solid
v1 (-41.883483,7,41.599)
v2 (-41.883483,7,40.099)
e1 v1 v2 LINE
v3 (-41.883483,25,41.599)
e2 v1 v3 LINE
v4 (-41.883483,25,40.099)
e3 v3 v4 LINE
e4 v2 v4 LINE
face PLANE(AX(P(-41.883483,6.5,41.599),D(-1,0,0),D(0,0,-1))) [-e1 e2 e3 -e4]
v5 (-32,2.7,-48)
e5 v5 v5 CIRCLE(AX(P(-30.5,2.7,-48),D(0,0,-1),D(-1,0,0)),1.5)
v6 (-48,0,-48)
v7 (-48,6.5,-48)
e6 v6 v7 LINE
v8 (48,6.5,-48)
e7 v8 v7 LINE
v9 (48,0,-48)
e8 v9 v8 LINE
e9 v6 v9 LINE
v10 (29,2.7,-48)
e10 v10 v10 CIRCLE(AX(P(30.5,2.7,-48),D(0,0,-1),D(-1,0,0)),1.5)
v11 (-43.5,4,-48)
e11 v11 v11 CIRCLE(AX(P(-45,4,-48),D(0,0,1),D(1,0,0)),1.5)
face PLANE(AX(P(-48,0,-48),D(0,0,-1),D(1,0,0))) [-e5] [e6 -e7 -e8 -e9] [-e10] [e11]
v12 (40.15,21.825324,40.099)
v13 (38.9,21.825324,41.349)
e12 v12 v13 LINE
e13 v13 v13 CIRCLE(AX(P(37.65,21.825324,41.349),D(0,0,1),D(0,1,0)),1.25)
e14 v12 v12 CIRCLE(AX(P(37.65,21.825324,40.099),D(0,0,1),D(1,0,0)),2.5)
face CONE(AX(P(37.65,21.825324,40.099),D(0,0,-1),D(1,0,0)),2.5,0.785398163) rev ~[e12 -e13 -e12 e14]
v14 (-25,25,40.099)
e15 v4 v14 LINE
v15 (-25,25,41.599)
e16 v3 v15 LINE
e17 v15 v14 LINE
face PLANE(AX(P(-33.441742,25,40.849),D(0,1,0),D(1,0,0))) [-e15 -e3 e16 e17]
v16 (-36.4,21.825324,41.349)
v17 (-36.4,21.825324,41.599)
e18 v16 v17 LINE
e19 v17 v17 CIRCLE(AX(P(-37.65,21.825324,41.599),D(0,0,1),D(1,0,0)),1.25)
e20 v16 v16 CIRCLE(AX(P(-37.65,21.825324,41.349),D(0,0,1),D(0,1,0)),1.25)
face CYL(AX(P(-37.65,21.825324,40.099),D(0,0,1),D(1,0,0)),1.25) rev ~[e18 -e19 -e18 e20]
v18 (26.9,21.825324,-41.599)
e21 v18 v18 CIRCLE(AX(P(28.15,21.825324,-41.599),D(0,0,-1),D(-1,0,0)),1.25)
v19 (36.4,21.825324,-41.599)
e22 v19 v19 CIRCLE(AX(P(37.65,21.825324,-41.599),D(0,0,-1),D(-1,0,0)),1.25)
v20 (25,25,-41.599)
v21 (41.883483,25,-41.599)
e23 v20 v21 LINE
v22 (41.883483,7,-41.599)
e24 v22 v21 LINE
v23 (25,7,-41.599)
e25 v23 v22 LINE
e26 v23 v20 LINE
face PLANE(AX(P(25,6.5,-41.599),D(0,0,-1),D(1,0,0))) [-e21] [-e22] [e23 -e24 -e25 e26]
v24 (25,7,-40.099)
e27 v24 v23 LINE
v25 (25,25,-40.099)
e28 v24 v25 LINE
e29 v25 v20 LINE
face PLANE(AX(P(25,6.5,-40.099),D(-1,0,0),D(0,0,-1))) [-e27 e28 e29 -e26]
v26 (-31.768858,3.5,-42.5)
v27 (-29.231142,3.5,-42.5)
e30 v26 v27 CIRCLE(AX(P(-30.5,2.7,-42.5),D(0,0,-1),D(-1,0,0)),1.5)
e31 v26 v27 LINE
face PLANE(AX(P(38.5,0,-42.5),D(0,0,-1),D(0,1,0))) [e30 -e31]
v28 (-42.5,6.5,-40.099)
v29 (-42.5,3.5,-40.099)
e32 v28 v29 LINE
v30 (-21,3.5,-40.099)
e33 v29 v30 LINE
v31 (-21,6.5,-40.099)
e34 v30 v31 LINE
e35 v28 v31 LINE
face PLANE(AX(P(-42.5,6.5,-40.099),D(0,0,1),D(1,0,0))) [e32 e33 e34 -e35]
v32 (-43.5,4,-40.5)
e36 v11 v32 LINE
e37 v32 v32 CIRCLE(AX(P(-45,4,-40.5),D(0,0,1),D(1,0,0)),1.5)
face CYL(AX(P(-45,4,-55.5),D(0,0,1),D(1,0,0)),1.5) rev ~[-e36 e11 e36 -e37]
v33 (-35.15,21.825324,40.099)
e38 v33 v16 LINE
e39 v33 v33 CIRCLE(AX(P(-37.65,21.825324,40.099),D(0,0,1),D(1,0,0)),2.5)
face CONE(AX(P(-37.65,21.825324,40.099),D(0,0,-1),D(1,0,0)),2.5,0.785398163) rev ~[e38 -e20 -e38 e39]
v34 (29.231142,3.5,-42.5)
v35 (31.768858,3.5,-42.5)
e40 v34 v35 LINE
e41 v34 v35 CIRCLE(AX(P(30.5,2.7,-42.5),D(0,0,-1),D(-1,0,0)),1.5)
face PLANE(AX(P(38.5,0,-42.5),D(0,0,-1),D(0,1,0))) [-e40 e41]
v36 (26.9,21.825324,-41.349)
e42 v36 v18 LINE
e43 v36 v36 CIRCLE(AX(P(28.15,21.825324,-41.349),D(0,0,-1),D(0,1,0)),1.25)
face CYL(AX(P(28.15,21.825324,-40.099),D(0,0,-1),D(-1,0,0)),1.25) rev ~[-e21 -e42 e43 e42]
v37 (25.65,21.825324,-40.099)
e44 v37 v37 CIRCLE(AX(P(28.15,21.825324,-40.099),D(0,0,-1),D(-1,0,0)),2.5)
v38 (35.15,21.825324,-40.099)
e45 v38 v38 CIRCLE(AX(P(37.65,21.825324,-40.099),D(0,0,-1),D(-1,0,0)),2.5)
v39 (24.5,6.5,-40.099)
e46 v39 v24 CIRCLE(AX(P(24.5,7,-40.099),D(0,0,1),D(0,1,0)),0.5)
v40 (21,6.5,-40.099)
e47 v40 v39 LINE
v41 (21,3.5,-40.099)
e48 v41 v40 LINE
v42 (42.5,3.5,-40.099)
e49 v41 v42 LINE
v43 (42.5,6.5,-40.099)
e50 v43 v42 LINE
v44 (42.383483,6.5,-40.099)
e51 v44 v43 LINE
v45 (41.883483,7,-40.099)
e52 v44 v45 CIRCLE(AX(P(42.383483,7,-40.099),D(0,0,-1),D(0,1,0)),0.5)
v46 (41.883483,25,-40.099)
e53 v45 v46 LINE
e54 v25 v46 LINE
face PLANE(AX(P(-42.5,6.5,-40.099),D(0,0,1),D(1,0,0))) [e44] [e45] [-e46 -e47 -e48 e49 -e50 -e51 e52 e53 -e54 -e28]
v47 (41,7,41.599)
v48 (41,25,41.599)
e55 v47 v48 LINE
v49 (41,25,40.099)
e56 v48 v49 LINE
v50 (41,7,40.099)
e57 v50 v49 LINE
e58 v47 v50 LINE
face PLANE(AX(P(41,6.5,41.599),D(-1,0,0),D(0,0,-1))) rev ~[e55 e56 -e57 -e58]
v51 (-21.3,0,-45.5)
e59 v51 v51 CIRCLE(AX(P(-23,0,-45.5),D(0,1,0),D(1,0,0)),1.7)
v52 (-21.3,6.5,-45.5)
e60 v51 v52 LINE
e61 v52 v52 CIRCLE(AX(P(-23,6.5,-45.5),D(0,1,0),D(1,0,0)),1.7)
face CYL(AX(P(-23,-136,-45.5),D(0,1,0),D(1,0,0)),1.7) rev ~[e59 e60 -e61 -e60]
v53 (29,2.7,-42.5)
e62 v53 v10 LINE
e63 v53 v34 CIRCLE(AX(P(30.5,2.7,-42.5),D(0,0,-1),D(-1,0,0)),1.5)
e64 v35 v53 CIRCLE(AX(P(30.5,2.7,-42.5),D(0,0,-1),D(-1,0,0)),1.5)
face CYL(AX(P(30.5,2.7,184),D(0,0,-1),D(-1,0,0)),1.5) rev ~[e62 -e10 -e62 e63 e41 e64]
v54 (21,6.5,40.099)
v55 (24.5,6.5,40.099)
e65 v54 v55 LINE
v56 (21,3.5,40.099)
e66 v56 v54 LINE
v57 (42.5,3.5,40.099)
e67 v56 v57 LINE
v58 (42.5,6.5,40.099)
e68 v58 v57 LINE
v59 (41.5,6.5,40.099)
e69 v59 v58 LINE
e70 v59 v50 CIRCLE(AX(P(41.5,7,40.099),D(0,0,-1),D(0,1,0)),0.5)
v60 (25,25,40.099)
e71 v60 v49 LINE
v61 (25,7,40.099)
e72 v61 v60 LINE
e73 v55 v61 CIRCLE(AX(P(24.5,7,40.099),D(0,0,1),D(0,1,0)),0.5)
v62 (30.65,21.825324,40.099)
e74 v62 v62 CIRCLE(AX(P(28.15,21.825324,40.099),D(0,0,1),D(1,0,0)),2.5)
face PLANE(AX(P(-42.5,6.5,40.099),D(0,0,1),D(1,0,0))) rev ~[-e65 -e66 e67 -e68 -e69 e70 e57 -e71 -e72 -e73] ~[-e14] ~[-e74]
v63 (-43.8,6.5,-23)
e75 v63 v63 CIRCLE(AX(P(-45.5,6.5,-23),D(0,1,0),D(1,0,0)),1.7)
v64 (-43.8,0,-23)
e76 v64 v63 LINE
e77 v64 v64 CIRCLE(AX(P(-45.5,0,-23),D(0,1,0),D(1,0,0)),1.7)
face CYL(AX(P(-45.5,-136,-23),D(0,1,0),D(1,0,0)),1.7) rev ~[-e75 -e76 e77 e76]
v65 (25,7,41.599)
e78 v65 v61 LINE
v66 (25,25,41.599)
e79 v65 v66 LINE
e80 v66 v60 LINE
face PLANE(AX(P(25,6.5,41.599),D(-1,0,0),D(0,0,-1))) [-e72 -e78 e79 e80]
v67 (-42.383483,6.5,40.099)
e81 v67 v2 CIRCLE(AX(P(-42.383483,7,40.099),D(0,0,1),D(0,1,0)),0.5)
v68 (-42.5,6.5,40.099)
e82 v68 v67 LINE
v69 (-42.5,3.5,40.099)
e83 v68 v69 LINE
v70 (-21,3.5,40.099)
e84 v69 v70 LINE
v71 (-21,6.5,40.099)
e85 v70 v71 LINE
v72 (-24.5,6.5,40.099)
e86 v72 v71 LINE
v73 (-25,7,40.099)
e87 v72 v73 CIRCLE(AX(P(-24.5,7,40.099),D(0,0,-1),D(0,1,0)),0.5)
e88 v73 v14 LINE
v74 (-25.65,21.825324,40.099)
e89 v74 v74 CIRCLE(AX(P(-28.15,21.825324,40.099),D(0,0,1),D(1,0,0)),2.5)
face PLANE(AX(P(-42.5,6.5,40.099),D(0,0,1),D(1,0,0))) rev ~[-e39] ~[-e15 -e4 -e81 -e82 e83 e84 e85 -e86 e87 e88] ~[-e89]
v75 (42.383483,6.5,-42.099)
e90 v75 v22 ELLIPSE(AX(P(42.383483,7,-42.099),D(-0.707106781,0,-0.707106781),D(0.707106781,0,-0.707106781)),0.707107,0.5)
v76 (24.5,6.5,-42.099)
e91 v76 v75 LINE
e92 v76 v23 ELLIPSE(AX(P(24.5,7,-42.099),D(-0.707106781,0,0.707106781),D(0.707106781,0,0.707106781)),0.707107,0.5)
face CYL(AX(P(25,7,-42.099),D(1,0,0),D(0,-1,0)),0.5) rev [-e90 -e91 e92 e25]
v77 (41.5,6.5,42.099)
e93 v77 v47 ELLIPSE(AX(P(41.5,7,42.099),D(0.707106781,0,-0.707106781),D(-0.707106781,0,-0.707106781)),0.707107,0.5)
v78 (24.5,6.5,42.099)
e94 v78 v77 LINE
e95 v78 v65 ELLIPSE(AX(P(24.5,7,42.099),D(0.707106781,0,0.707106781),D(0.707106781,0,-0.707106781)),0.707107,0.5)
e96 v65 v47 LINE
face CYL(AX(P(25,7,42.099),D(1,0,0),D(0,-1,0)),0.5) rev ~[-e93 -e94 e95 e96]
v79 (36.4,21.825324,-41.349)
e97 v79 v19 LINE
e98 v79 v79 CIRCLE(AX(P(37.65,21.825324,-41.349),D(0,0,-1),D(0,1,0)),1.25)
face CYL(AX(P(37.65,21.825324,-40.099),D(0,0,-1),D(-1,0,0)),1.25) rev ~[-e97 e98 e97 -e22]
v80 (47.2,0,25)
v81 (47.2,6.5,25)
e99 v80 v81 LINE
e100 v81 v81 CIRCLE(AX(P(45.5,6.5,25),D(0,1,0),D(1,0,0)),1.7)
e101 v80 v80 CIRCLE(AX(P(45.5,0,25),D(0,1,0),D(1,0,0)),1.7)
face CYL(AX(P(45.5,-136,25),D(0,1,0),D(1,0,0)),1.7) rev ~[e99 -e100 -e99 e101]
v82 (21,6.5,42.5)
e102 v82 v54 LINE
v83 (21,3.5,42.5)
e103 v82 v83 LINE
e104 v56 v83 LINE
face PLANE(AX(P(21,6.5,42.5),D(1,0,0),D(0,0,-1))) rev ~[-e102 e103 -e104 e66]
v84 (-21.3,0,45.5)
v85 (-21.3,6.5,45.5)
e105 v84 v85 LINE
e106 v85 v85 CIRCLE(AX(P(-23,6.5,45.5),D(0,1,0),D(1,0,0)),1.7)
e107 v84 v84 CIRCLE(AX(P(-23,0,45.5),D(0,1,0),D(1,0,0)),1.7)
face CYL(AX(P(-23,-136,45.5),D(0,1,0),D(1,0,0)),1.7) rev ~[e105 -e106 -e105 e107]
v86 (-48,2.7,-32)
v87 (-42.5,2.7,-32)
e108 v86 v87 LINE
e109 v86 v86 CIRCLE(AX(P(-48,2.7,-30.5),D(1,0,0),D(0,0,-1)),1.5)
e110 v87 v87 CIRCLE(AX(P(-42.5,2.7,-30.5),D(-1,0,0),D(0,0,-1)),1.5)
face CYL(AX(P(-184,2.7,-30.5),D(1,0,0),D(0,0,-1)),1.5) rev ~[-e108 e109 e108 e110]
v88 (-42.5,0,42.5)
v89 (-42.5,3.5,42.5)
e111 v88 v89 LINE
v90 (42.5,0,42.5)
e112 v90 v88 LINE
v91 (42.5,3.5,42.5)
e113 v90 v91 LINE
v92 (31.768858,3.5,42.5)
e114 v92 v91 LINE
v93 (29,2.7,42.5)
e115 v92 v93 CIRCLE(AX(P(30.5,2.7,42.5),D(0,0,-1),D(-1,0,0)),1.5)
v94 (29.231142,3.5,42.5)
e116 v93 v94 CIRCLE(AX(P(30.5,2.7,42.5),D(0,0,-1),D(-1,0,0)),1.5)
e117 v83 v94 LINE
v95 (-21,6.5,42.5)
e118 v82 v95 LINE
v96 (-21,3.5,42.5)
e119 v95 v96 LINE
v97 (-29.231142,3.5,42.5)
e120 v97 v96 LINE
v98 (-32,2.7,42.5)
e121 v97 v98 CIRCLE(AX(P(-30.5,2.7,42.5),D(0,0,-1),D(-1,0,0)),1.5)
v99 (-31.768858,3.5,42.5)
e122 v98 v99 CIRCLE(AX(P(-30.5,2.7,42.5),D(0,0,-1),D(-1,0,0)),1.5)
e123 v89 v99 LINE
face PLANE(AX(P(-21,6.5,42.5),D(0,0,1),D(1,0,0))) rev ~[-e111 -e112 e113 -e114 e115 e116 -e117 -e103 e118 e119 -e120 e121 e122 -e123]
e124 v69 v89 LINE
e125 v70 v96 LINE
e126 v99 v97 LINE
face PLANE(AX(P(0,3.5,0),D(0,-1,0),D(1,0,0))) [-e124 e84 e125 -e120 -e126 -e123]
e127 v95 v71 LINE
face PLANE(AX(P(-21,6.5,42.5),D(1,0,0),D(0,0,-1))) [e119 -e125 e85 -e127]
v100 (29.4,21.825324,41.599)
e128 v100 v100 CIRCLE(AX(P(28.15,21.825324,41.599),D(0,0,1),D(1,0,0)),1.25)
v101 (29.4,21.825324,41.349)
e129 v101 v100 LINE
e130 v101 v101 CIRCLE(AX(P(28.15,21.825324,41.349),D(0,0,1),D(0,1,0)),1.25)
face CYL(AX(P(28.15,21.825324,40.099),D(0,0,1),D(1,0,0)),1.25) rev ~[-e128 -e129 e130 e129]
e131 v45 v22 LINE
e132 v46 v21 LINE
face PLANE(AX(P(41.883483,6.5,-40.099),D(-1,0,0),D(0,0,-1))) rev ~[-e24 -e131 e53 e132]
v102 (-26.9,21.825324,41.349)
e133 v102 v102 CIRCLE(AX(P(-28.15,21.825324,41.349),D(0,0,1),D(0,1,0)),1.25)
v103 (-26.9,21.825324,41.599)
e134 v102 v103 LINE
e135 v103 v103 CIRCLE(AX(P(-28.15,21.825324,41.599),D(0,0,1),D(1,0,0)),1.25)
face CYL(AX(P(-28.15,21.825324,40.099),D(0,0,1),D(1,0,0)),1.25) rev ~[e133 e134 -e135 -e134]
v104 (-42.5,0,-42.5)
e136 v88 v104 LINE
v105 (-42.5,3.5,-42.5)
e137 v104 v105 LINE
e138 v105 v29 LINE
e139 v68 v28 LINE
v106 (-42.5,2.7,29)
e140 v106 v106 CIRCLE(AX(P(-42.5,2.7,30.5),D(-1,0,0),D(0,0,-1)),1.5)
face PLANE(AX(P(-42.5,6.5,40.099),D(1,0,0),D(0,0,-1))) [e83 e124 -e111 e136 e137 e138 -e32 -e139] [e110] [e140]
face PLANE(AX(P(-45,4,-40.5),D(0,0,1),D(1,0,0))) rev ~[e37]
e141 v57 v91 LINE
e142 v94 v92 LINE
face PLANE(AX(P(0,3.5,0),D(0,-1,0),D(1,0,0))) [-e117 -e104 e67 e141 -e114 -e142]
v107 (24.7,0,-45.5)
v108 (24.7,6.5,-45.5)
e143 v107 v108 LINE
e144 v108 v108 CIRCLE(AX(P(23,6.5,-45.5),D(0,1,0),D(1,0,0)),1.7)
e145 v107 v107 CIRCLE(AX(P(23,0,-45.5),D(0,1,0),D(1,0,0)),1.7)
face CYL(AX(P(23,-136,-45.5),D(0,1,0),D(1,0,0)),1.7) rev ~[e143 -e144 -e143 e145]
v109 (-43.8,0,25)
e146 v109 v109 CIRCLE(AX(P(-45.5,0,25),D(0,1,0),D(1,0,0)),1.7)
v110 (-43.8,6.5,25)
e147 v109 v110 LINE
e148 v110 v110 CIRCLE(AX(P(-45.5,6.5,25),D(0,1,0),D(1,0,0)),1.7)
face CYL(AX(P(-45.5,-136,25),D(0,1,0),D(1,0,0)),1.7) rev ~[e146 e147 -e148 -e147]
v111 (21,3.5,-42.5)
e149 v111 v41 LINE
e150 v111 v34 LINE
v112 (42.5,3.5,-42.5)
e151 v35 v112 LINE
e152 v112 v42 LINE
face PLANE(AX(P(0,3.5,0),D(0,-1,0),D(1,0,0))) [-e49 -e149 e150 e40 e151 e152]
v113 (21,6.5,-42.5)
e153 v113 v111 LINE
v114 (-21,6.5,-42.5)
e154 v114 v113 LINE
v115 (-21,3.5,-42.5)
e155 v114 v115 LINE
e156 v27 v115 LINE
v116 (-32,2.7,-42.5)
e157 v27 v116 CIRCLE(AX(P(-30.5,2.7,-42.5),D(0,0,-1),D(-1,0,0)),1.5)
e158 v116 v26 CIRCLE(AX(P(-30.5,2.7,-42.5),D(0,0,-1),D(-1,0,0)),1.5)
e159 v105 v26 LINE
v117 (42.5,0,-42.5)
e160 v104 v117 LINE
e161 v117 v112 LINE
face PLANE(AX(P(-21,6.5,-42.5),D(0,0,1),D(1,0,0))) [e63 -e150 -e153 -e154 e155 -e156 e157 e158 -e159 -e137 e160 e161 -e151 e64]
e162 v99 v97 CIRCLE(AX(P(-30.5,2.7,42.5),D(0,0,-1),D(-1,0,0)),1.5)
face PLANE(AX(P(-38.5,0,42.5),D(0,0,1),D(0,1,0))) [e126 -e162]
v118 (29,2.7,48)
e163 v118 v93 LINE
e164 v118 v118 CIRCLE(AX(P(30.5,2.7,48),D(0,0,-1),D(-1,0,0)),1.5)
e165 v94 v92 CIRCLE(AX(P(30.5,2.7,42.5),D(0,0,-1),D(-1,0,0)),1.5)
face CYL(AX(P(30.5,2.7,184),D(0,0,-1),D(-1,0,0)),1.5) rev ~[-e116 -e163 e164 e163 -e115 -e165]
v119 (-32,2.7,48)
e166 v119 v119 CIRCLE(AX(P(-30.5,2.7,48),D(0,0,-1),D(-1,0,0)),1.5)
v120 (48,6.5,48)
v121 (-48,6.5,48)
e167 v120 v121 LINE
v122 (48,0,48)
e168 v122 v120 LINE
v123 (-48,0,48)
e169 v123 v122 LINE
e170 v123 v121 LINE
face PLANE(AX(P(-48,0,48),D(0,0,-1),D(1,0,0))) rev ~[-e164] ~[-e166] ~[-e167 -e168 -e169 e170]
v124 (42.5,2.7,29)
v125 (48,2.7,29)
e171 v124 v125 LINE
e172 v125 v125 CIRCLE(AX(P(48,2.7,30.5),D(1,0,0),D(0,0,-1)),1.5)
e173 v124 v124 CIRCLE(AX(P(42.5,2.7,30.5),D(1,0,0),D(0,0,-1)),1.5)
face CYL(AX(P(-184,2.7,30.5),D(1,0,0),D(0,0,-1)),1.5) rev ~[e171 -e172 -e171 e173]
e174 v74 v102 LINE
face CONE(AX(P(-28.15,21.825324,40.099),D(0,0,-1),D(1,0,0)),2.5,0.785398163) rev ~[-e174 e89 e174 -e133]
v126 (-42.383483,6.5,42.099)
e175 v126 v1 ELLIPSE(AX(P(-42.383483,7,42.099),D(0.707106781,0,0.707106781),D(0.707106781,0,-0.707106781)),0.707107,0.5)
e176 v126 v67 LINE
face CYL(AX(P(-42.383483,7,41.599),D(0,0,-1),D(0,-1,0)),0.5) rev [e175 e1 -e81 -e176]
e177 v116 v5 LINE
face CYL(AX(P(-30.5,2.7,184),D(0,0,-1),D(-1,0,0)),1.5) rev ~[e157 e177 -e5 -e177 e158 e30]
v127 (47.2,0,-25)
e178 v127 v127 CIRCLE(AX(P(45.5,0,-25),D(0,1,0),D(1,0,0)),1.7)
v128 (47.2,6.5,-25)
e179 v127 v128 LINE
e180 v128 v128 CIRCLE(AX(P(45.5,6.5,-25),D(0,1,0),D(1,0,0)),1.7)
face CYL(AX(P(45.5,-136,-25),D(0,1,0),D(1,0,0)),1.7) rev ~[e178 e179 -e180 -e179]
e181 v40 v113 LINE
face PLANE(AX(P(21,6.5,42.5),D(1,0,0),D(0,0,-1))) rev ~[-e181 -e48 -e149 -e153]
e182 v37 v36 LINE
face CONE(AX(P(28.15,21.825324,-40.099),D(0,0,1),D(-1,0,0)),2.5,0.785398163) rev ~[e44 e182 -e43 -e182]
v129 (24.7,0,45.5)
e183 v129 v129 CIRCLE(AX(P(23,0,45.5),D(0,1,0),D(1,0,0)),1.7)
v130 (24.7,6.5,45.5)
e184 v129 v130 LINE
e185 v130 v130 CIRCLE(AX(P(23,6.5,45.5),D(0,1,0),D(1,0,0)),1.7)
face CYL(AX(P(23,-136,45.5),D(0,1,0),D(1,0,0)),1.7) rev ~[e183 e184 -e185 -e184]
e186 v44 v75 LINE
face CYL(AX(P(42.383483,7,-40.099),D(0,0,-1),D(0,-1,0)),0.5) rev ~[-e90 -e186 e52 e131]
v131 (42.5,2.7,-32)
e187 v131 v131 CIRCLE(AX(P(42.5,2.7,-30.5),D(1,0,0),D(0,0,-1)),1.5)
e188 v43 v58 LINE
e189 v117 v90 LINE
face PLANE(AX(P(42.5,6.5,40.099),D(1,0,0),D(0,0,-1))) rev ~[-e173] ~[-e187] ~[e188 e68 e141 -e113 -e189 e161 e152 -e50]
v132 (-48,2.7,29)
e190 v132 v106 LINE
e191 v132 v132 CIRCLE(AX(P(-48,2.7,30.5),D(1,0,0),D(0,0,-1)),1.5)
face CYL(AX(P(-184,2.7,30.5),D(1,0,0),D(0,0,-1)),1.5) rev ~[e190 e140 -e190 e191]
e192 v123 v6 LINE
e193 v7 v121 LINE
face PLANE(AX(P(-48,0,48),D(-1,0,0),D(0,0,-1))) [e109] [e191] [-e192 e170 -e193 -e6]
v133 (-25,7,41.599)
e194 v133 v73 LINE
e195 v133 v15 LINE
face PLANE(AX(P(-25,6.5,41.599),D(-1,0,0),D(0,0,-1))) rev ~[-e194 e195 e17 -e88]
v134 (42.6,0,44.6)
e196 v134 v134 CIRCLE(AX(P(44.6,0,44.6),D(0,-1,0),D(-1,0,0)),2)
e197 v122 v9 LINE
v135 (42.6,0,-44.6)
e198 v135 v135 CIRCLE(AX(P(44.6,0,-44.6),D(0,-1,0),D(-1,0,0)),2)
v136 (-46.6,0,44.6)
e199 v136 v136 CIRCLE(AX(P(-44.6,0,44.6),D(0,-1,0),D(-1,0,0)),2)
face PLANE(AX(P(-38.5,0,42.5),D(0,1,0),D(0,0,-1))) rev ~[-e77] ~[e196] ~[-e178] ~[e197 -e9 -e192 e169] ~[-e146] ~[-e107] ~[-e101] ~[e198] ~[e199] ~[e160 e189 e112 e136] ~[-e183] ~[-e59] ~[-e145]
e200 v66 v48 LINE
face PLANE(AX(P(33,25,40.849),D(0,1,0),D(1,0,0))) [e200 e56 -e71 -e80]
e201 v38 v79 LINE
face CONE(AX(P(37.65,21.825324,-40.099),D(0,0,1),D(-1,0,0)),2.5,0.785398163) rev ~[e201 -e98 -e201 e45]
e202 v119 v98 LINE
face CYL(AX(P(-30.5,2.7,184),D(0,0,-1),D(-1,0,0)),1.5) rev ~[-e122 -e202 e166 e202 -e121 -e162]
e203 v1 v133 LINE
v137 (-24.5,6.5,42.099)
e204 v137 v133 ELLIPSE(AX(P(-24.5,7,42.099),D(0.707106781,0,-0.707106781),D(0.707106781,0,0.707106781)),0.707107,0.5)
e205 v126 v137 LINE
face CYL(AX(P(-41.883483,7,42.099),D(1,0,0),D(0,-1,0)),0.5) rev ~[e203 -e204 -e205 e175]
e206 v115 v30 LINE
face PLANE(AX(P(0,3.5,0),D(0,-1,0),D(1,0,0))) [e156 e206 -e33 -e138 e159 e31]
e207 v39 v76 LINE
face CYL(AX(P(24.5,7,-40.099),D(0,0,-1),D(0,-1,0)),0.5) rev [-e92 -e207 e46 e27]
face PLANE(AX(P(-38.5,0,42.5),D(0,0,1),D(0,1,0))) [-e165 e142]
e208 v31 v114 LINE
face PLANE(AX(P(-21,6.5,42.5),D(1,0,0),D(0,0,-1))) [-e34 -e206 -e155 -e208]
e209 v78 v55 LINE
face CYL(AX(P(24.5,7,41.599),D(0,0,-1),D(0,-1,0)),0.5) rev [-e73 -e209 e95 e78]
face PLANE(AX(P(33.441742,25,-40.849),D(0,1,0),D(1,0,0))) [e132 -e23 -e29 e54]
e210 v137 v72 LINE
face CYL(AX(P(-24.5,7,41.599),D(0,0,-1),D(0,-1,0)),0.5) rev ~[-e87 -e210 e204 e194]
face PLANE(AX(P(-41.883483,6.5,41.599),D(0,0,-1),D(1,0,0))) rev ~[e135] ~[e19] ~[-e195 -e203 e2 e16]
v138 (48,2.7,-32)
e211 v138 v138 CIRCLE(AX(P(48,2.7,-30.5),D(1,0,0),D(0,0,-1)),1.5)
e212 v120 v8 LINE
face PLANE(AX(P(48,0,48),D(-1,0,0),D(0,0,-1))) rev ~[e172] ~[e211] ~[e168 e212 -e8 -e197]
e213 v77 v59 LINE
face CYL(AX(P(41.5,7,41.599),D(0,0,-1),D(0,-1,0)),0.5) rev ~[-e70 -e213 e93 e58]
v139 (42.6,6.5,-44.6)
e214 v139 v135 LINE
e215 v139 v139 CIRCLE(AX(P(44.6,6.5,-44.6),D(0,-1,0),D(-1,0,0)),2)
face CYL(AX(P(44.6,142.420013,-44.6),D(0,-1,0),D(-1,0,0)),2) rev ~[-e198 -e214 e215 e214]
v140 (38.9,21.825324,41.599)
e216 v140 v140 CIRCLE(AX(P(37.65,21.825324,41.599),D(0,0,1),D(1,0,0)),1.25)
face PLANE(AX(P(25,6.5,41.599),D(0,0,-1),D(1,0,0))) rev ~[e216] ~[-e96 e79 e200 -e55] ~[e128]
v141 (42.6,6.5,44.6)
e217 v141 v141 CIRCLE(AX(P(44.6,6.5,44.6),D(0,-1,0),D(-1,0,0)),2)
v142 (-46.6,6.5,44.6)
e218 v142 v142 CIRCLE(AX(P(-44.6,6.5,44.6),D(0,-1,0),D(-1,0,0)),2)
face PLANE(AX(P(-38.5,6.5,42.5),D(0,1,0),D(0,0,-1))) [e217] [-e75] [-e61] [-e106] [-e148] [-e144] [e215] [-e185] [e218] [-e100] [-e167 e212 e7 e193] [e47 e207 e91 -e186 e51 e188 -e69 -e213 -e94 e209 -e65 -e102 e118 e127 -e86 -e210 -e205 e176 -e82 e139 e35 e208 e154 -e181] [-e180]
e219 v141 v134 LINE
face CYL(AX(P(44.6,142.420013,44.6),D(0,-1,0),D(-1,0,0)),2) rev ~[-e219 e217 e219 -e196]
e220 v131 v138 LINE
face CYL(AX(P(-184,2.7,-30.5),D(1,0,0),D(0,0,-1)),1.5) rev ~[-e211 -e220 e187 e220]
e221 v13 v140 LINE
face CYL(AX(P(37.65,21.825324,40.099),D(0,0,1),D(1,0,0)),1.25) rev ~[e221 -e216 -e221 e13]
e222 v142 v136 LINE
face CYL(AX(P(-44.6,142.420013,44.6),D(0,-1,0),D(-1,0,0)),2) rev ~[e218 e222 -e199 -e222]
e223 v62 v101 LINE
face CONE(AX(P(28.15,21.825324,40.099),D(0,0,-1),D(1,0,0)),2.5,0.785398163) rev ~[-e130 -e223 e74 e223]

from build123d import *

# Parameters (mm, degrees)
SKETCH1_W                                            = 96
SKETCH1_H                                            = 96
SKETCH1_W_2                                          = 80
SKETCH1_H_2                                          = 80
BOSS_EXTRUDE1_DEPTH                                  = 8
F_3_0_3_DIAMETER_HOLE3_D                             = 3
F_3_0_3_DIAMETER_HOLE3_DEPTH                         = 7.5
SKETCH27_W                                           = 82
SKETCH27_H                                           = 82
CUT_EXTRUDE2_DEPTH                                   = 10
F_3_0_3_DIAMETER_HOLE1_D                             = 3
F_3_4_3_4_DIAMETER_HOLE1_D                           = 3.4
SKETCH38_W                                           = 85
SKETCH38_H                                           = 85
CUT_EXTRUDE4_DEPTH                                   = 10
F_3_0_3_DIAMETER_HOLE7_D                             = 3
SKETCH44_W                                           = 4
SKETCH44_H                                           = 4
BOSS_EXTRUDE2_DEPTH                                  = 8
SKETCH45_W                                           = 4
SKETCH45_H                                           = 3.5
BOSS_EXTRUDE3_DEPTH                                  = 8
SKETCH49_W                                           = 96
SKETCH49_H                                           = 1.5
CUT_EXTRUDE5_DEPTH                                   = 146
TAP_DRILL_FOR_M4_TAP1_D                              = 4
SKETCH53_W                                           = 4
SKETCH53_H                                           = 6.5
BOSS_EXTRUDE5_DEPTH                                  = 78
SKETCH54_W                                           = 16
SKETCH54_H                                           = 1.5
SKETCH54_W_2                                         = 16.883483494
BOSS_EXTRUDE6_DEPTH                                  = 18.5
FILLET1_R                                            = 0.5
SKETCH57_W                                           = 4
SKETCH57_H                                           = 6.5
CUT_EXTRUDE6_DEPTH                                   = 7.5
SKETCH58_W                                           = 4
SKETCH58_H                                           = 6.5
BOSS_EXTRUDE7_DEPTH                                  = 81
FILLET2_R                                            = 0.5
SKETCH61_W                                           = 32
SKETCH61_H                                           = 85
CUT_EXTRUDE7_DEPTH                                   = 81
CSK_FOR_M2_5_COUNTERSUNK_FLAT_HEAD_SCREW_D           = 2.5
CSK_FOR_M2_5_COUNTERSUNK_FLAT_HEAD_SCREW_DEPTH       = 7.901
CSK_FOR_M2_5_COUNTERSUNK_FLAT_HEAD_SCREW_CSINK_D     = 5
CSK_FOR_M2_5_COUNTERSUNK_FLAT_HEAD_SCREW_CSINK_ANGLE = 90
CSK_FOR_M2_5_COUNTERSUNK_FLAT_HEAD_S_2_D             = 2.5
CSK_FOR_M2_5_COUNTERSUNK_FLAT_HEAD_S_2_DEPTH         = 7.901
CSK_FOR_M2_5_COUNTERSUNK_FLAT_HEAD_S_2_CSINK_D       = 5
CSK_FOR_M2_5_COUNTERSUNK_FLAT_HEAD_S_2_CSINK_ANGLE   = 90
SKETCH66_W                                           = 85
SKETCH66_H                                           = 80.198
CUT_EXTRUDE8_DEPTH                                   = 10
SKETCH67_W                                           = 85
SKETCH67_H                                           = 85
CUT_EXTRUDE9_DEPTH                                   = 3.5
SKETCH68_W                                           = 42
SKETCH68_H                                           = 85
CUT_EXTRUDE10_DEPTH                                  = 56


with BuildPart() as part:
    # Sketch1 → Boss-Extrude1 (new body)
    with BuildSketch(Plane(origin=(0, 0, 0), x_dir=(1, 0, 0), z_dir=(0, 1, 0))):
        Rectangle(SKETCH1_W, SKETCH1_H)
        Rectangle(SKETCH1_W_2, SKETCH1_H_2, mode=Mode.SUBTRACT)
    extrude(amount=BOSS_EXTRUDE1_DEPTH)

    # Ø3.0 (3) Diameter Hole3
    with Locations(Plane(origin=(0, 0, -48), x_dir=(-1, 0, 0), z_dir=(0, 0, -1))):
        with Locations((45, 4)):
            Hole(F_3_0_3_DIAMETER_HOLE3_D / 2, depth=F_3_0_3_DIAMETER_HOLE3_DEPTH)

    # Sketch27 → Cut-Extrude2 (cut)
    with BuildSketch(Plane(origin=(0, 8, 0), x_dir=(1, 0, 0), z_dir=(0, 1, 0))):
        Rectangle(SKETCH27_W, SKETCH27_H)
    extrude(amount=-CUT_EXTRUDE2_DEPTH, mode=Mode.SUBTRACT)

    # Ø3.0 (3) Diameter Hole1 (through all)
    with Locations(Plane.XY.offset(48)):
        with Locations((-30.5, 2.7), (30.5, 2.7)):
            Hole(F_3_0_3_DIAMETER_HOLE1_D / 2)

    # Ø3.4 (3.4) Diameter Hole1 (through all)
    with Locations(Plane(origin=(0, 0, 0), x_dir=(-1, 0, 0), z_dir=(0, -1, 0))):
        with Locations((-23, 45.5), (23, 45.5), (45.5, 23), (45.5, -25), (23, -45.5), (-23, -45.5), (-45.5, -25), (-45.5, 25)):
            Hole(F_3_4_3_4_DIAMETER_HOLE1_D / 2)

    # Sketch38 → Cut-Extrude4 (cut)
    with BuildSketch(Plane(origin=(0, 8, 0), x_dir=(1, 0, 0), z_dir=(0, 1, 0))):
        Rectangle(SKETCH38_W, SKETCH38_H)
    extrude(amount=-CUT_EXTRUDE4_DEPTH, mode=Mode.SUBTRACT)

    # Ø3.0 (3) Diameter Hole7 (through all)
    with Locations(Plane.ZY.offset(48)):
        with Locations((-30.5, 2.7), (30.5, 2.7)):
            Hole(F_3_0_3_DIAMETER_HOLE7_D / 2)

    # Sketch44 → Boss-Extrude2 (add)
    with BuildSketch(Plane.XZ):
        with Locations((40.5, -40.5)):
            Rectangle(SKETCH44_W, SKETCH44_H)
        with Locations((-40.5, -40.5)):
            Rectangle(SKETCH44_W, SKETCH44_H)
        with Locations((-40.5, 40.5)):
            Rectangle(SKETCH44_W, SKETCH44_H)
        with Locations((40.5, 40.5)):
            Rectangle(SKETCH44_W, SKETCH44_H)
    extrude(amount=-BOSS_EXTRUDE2_DEPTH)

    # Sketch45 → Boss-Extrude3 (add)
    with BuildSketch(Plane(origin=(0, 8, 0), x_dir=(1, 0, 0), z_dir=(0, 1, 0))):
        with Locations((-40.5, 36.75)):
            Rectangle(SKETCH45_W, SKETCH45_H)
    extrude(amount=-BOSS_EXTRUDE3_DEPTH)

    # Sketch49 → Cut-Extrude5 (cut)
    with BuildSketch(Plane(origin=(48, 0, 0), x_dir=(0, 0, -1), z_dir=(1, 0, 0))):
        with Locations((0, 7.25)):
            Rectangle(SKETCH49_W, SKETCH49_H)
    extrude(amount=-CUT_EXTRUDE5_DEPTH, mode=Mode.SUBTRACT)

    # Tap Drill for M4 Tap1 (through all)
    with Locations(Plane(origin=(0, 6.5, 0), x_dir=(1, 0, 0), z_dir=(0, 1, 0))):
        with Locations((44.6, -44.6), (-44.6, -44.6), (44.6, 44.6)):
            Hole(TAP_DRILL_FOR_M4_TAP1_D / 2)

    # Sketch53 → Boss-Extrude5 (add)
    with BuildSketch(Plane(origin=(-38.5, 0, 0), x_dir=(0, 0, -1), z_dir=(1, 0, 0))):
        with Locations((-40.5, 3.25)):
            Rectangle(SKETCH53_W, SKETCH53_H)
    extrude(amount=BOSS_EXTRUDE5_DEPTH)

    # Sketch54 → Boss-Extrude6 (add)
    with BuildSketch(Plane(origin=(0, 6.5, 0), x_dir=(1, 0, 0), z_dir=(0, 1, 0))):
        with Locations((33, -40.849)):
            Rectangle(SKETCH54_W, SKETCH54_H)
        with Locations((-33.441741747, -40.849)):
            Rectangle(SKETCH54_W_2, SKETCH54_H)
        with Locations((33.441741747, 40.849)):
            Rectangle(SKETCH54_W_2, SKETCH54_H)
    extrude(amount=BOSS_EXTRUDE6_DEPTH)

    # Fillet1
    fillet1_edges = [part.edges().sort_by_distance(p)[0] for p in [
        (41, 6.5, 40.849),
        (25, 6.5, 40.849),
        (33, 6.5, 41.599),
        (-41.883483494, 6.5, 40.849),
        (-33.441741747, 6.5, 41.599),
        (-25, 6.5, 40.849),
    ]]
    fillet(fillet1_edges, radius=FILLET1_R)

    # Sketch57 → Cut-Extrude6 (cut)
    with BuildSketch(Plane.XY.offset(-35)):
        with Locations((-40.5, 3.25)):
            Rectangle(SKETCH57_W, SKETCH57_H)
    extrude(amount=-CUT_EXTRUDE6_DEPTH, mode=Mode.SUBTRACT)

    # Sketch58 → Boss-Extrude7 (add)
    with BuildSketch(Plane.ZY.offset(-38.5)):
        with Locations((-40.5, 3.25)):
            Rectangle(SKETCH58_W, SKETCH58_H)
    extrude(amount=BOSS_EXTRUDE7_DEPTH)

    # Fillet2
    fillet2_edges = [part.edges().sort_by_distance(p)[0] for p in [
        (41.883483494, 6.5, -40.849),
        (33.441741747, 6.5, -41.599),
        (25, 6.5, -40.849),
    ]]
    fillet(fillet2_edges, radius=FILLET2_R)

    # Sketch61 → Cut-Extrude7 (cut)
    with BuildSketch(Plane(origin=(0, 6.5, 0), x_dir=(1, 0, 0), z_dir=(0, 1, 0))):
        Rectangle(SKETCH61_W, SKETCH61_H)
    extrude(amount=-CUT_EXTRUDE7_DEPTH, mode=Mode.SUBTRACT)

    # CSK for M2.5 Countersunk Flat Head Screw
    with Locations(Plane.XY.offset(-40.099)):
        with Locations((28.15, 21.825324496), (37.65, 21.825324496)):
            CounterSinkHole(CSK_FOR_M2_5_COUNTERSUNK_FLAT_HEAD_SCREW_D / 2, CSK_FOR_M2_5_COUNTERSUNK_FLAT_HEAD_SCREW_CSINK_D / 2, depth=CSK_FOR_M2_5_COUNTERSUNK_FLAT_HEAD_SCREW_DEPTH, counter_sink_angle=CSK_FOR_M2_5_COUNTERSUNK_FLAT_HEAD_SCREW_CSINK_ANGLE)

    # CSK for M2.5 Countersunk Flat Head S 2
    with Locations(Plane(origin=(0, 0, 40.099), x_dir=(-1, 0, 0), z_dir=(0, 0, -1))):
        with Locations((-28.15, 21.825324496), (-37.65, 21.825324496), (28.15, 21.825324496), (37.65, 21.825324496)):
            CounterSinkHole(CSK_FOR_M2_5_COUNTERSUNK_FLAT_HEAD_S_2_D / 2, CSK_FOR_M2_5_COUNTERSUNK_FLAT_HEAD_S_2_CSINK_D / 2, depth=CSK_FOR_M2_5_COUNTERSUNK_FLAT_HEAD_S_2_DEPTH, counter_sink_angle=CSK_FOR_M2_5_COUNTERSUNK_FLAT_HEAD_S_2_CSINK_ANGLE)

    # Sketch66 → Cut-Extrude8 (cut)
    with BuildSketch(Plane(origin=(0, 6.5, 0), x_dir=(1, 0, 0), z_dir=(0, 1, 0))):
        Rectangle(SKETCH66_W, SKETCH66_H)
    extrude(amount=-CUT_EXTRUDE8_DEPTH, mode=Mode.SUBTRACT)

    # Sketch67 → Cut-Extrude9 (cut)
    with BuildSketch(Plane.XZ):
        Rectangle(SKETCH67_W, SKETCH67_H)
    extrude(amount=-CUT_EXTRUDE9_DEPTH, mode=Mode.SUBTRACT)

    # Sketch68 → Cut-Extrude10 (cut)
    with BuildSketch(Plane(origin=(0, 6.5, 0), x_dir=(1, 0, 0), z_dir=(0, 1, 0))):
        Rectangle(SKETCH68_W, SKETCH68_H)
    extrude(amount=-CUT_EXTRUDE10_DEPTH, mode=Mode.SUBTRACT)


solid = part.part
